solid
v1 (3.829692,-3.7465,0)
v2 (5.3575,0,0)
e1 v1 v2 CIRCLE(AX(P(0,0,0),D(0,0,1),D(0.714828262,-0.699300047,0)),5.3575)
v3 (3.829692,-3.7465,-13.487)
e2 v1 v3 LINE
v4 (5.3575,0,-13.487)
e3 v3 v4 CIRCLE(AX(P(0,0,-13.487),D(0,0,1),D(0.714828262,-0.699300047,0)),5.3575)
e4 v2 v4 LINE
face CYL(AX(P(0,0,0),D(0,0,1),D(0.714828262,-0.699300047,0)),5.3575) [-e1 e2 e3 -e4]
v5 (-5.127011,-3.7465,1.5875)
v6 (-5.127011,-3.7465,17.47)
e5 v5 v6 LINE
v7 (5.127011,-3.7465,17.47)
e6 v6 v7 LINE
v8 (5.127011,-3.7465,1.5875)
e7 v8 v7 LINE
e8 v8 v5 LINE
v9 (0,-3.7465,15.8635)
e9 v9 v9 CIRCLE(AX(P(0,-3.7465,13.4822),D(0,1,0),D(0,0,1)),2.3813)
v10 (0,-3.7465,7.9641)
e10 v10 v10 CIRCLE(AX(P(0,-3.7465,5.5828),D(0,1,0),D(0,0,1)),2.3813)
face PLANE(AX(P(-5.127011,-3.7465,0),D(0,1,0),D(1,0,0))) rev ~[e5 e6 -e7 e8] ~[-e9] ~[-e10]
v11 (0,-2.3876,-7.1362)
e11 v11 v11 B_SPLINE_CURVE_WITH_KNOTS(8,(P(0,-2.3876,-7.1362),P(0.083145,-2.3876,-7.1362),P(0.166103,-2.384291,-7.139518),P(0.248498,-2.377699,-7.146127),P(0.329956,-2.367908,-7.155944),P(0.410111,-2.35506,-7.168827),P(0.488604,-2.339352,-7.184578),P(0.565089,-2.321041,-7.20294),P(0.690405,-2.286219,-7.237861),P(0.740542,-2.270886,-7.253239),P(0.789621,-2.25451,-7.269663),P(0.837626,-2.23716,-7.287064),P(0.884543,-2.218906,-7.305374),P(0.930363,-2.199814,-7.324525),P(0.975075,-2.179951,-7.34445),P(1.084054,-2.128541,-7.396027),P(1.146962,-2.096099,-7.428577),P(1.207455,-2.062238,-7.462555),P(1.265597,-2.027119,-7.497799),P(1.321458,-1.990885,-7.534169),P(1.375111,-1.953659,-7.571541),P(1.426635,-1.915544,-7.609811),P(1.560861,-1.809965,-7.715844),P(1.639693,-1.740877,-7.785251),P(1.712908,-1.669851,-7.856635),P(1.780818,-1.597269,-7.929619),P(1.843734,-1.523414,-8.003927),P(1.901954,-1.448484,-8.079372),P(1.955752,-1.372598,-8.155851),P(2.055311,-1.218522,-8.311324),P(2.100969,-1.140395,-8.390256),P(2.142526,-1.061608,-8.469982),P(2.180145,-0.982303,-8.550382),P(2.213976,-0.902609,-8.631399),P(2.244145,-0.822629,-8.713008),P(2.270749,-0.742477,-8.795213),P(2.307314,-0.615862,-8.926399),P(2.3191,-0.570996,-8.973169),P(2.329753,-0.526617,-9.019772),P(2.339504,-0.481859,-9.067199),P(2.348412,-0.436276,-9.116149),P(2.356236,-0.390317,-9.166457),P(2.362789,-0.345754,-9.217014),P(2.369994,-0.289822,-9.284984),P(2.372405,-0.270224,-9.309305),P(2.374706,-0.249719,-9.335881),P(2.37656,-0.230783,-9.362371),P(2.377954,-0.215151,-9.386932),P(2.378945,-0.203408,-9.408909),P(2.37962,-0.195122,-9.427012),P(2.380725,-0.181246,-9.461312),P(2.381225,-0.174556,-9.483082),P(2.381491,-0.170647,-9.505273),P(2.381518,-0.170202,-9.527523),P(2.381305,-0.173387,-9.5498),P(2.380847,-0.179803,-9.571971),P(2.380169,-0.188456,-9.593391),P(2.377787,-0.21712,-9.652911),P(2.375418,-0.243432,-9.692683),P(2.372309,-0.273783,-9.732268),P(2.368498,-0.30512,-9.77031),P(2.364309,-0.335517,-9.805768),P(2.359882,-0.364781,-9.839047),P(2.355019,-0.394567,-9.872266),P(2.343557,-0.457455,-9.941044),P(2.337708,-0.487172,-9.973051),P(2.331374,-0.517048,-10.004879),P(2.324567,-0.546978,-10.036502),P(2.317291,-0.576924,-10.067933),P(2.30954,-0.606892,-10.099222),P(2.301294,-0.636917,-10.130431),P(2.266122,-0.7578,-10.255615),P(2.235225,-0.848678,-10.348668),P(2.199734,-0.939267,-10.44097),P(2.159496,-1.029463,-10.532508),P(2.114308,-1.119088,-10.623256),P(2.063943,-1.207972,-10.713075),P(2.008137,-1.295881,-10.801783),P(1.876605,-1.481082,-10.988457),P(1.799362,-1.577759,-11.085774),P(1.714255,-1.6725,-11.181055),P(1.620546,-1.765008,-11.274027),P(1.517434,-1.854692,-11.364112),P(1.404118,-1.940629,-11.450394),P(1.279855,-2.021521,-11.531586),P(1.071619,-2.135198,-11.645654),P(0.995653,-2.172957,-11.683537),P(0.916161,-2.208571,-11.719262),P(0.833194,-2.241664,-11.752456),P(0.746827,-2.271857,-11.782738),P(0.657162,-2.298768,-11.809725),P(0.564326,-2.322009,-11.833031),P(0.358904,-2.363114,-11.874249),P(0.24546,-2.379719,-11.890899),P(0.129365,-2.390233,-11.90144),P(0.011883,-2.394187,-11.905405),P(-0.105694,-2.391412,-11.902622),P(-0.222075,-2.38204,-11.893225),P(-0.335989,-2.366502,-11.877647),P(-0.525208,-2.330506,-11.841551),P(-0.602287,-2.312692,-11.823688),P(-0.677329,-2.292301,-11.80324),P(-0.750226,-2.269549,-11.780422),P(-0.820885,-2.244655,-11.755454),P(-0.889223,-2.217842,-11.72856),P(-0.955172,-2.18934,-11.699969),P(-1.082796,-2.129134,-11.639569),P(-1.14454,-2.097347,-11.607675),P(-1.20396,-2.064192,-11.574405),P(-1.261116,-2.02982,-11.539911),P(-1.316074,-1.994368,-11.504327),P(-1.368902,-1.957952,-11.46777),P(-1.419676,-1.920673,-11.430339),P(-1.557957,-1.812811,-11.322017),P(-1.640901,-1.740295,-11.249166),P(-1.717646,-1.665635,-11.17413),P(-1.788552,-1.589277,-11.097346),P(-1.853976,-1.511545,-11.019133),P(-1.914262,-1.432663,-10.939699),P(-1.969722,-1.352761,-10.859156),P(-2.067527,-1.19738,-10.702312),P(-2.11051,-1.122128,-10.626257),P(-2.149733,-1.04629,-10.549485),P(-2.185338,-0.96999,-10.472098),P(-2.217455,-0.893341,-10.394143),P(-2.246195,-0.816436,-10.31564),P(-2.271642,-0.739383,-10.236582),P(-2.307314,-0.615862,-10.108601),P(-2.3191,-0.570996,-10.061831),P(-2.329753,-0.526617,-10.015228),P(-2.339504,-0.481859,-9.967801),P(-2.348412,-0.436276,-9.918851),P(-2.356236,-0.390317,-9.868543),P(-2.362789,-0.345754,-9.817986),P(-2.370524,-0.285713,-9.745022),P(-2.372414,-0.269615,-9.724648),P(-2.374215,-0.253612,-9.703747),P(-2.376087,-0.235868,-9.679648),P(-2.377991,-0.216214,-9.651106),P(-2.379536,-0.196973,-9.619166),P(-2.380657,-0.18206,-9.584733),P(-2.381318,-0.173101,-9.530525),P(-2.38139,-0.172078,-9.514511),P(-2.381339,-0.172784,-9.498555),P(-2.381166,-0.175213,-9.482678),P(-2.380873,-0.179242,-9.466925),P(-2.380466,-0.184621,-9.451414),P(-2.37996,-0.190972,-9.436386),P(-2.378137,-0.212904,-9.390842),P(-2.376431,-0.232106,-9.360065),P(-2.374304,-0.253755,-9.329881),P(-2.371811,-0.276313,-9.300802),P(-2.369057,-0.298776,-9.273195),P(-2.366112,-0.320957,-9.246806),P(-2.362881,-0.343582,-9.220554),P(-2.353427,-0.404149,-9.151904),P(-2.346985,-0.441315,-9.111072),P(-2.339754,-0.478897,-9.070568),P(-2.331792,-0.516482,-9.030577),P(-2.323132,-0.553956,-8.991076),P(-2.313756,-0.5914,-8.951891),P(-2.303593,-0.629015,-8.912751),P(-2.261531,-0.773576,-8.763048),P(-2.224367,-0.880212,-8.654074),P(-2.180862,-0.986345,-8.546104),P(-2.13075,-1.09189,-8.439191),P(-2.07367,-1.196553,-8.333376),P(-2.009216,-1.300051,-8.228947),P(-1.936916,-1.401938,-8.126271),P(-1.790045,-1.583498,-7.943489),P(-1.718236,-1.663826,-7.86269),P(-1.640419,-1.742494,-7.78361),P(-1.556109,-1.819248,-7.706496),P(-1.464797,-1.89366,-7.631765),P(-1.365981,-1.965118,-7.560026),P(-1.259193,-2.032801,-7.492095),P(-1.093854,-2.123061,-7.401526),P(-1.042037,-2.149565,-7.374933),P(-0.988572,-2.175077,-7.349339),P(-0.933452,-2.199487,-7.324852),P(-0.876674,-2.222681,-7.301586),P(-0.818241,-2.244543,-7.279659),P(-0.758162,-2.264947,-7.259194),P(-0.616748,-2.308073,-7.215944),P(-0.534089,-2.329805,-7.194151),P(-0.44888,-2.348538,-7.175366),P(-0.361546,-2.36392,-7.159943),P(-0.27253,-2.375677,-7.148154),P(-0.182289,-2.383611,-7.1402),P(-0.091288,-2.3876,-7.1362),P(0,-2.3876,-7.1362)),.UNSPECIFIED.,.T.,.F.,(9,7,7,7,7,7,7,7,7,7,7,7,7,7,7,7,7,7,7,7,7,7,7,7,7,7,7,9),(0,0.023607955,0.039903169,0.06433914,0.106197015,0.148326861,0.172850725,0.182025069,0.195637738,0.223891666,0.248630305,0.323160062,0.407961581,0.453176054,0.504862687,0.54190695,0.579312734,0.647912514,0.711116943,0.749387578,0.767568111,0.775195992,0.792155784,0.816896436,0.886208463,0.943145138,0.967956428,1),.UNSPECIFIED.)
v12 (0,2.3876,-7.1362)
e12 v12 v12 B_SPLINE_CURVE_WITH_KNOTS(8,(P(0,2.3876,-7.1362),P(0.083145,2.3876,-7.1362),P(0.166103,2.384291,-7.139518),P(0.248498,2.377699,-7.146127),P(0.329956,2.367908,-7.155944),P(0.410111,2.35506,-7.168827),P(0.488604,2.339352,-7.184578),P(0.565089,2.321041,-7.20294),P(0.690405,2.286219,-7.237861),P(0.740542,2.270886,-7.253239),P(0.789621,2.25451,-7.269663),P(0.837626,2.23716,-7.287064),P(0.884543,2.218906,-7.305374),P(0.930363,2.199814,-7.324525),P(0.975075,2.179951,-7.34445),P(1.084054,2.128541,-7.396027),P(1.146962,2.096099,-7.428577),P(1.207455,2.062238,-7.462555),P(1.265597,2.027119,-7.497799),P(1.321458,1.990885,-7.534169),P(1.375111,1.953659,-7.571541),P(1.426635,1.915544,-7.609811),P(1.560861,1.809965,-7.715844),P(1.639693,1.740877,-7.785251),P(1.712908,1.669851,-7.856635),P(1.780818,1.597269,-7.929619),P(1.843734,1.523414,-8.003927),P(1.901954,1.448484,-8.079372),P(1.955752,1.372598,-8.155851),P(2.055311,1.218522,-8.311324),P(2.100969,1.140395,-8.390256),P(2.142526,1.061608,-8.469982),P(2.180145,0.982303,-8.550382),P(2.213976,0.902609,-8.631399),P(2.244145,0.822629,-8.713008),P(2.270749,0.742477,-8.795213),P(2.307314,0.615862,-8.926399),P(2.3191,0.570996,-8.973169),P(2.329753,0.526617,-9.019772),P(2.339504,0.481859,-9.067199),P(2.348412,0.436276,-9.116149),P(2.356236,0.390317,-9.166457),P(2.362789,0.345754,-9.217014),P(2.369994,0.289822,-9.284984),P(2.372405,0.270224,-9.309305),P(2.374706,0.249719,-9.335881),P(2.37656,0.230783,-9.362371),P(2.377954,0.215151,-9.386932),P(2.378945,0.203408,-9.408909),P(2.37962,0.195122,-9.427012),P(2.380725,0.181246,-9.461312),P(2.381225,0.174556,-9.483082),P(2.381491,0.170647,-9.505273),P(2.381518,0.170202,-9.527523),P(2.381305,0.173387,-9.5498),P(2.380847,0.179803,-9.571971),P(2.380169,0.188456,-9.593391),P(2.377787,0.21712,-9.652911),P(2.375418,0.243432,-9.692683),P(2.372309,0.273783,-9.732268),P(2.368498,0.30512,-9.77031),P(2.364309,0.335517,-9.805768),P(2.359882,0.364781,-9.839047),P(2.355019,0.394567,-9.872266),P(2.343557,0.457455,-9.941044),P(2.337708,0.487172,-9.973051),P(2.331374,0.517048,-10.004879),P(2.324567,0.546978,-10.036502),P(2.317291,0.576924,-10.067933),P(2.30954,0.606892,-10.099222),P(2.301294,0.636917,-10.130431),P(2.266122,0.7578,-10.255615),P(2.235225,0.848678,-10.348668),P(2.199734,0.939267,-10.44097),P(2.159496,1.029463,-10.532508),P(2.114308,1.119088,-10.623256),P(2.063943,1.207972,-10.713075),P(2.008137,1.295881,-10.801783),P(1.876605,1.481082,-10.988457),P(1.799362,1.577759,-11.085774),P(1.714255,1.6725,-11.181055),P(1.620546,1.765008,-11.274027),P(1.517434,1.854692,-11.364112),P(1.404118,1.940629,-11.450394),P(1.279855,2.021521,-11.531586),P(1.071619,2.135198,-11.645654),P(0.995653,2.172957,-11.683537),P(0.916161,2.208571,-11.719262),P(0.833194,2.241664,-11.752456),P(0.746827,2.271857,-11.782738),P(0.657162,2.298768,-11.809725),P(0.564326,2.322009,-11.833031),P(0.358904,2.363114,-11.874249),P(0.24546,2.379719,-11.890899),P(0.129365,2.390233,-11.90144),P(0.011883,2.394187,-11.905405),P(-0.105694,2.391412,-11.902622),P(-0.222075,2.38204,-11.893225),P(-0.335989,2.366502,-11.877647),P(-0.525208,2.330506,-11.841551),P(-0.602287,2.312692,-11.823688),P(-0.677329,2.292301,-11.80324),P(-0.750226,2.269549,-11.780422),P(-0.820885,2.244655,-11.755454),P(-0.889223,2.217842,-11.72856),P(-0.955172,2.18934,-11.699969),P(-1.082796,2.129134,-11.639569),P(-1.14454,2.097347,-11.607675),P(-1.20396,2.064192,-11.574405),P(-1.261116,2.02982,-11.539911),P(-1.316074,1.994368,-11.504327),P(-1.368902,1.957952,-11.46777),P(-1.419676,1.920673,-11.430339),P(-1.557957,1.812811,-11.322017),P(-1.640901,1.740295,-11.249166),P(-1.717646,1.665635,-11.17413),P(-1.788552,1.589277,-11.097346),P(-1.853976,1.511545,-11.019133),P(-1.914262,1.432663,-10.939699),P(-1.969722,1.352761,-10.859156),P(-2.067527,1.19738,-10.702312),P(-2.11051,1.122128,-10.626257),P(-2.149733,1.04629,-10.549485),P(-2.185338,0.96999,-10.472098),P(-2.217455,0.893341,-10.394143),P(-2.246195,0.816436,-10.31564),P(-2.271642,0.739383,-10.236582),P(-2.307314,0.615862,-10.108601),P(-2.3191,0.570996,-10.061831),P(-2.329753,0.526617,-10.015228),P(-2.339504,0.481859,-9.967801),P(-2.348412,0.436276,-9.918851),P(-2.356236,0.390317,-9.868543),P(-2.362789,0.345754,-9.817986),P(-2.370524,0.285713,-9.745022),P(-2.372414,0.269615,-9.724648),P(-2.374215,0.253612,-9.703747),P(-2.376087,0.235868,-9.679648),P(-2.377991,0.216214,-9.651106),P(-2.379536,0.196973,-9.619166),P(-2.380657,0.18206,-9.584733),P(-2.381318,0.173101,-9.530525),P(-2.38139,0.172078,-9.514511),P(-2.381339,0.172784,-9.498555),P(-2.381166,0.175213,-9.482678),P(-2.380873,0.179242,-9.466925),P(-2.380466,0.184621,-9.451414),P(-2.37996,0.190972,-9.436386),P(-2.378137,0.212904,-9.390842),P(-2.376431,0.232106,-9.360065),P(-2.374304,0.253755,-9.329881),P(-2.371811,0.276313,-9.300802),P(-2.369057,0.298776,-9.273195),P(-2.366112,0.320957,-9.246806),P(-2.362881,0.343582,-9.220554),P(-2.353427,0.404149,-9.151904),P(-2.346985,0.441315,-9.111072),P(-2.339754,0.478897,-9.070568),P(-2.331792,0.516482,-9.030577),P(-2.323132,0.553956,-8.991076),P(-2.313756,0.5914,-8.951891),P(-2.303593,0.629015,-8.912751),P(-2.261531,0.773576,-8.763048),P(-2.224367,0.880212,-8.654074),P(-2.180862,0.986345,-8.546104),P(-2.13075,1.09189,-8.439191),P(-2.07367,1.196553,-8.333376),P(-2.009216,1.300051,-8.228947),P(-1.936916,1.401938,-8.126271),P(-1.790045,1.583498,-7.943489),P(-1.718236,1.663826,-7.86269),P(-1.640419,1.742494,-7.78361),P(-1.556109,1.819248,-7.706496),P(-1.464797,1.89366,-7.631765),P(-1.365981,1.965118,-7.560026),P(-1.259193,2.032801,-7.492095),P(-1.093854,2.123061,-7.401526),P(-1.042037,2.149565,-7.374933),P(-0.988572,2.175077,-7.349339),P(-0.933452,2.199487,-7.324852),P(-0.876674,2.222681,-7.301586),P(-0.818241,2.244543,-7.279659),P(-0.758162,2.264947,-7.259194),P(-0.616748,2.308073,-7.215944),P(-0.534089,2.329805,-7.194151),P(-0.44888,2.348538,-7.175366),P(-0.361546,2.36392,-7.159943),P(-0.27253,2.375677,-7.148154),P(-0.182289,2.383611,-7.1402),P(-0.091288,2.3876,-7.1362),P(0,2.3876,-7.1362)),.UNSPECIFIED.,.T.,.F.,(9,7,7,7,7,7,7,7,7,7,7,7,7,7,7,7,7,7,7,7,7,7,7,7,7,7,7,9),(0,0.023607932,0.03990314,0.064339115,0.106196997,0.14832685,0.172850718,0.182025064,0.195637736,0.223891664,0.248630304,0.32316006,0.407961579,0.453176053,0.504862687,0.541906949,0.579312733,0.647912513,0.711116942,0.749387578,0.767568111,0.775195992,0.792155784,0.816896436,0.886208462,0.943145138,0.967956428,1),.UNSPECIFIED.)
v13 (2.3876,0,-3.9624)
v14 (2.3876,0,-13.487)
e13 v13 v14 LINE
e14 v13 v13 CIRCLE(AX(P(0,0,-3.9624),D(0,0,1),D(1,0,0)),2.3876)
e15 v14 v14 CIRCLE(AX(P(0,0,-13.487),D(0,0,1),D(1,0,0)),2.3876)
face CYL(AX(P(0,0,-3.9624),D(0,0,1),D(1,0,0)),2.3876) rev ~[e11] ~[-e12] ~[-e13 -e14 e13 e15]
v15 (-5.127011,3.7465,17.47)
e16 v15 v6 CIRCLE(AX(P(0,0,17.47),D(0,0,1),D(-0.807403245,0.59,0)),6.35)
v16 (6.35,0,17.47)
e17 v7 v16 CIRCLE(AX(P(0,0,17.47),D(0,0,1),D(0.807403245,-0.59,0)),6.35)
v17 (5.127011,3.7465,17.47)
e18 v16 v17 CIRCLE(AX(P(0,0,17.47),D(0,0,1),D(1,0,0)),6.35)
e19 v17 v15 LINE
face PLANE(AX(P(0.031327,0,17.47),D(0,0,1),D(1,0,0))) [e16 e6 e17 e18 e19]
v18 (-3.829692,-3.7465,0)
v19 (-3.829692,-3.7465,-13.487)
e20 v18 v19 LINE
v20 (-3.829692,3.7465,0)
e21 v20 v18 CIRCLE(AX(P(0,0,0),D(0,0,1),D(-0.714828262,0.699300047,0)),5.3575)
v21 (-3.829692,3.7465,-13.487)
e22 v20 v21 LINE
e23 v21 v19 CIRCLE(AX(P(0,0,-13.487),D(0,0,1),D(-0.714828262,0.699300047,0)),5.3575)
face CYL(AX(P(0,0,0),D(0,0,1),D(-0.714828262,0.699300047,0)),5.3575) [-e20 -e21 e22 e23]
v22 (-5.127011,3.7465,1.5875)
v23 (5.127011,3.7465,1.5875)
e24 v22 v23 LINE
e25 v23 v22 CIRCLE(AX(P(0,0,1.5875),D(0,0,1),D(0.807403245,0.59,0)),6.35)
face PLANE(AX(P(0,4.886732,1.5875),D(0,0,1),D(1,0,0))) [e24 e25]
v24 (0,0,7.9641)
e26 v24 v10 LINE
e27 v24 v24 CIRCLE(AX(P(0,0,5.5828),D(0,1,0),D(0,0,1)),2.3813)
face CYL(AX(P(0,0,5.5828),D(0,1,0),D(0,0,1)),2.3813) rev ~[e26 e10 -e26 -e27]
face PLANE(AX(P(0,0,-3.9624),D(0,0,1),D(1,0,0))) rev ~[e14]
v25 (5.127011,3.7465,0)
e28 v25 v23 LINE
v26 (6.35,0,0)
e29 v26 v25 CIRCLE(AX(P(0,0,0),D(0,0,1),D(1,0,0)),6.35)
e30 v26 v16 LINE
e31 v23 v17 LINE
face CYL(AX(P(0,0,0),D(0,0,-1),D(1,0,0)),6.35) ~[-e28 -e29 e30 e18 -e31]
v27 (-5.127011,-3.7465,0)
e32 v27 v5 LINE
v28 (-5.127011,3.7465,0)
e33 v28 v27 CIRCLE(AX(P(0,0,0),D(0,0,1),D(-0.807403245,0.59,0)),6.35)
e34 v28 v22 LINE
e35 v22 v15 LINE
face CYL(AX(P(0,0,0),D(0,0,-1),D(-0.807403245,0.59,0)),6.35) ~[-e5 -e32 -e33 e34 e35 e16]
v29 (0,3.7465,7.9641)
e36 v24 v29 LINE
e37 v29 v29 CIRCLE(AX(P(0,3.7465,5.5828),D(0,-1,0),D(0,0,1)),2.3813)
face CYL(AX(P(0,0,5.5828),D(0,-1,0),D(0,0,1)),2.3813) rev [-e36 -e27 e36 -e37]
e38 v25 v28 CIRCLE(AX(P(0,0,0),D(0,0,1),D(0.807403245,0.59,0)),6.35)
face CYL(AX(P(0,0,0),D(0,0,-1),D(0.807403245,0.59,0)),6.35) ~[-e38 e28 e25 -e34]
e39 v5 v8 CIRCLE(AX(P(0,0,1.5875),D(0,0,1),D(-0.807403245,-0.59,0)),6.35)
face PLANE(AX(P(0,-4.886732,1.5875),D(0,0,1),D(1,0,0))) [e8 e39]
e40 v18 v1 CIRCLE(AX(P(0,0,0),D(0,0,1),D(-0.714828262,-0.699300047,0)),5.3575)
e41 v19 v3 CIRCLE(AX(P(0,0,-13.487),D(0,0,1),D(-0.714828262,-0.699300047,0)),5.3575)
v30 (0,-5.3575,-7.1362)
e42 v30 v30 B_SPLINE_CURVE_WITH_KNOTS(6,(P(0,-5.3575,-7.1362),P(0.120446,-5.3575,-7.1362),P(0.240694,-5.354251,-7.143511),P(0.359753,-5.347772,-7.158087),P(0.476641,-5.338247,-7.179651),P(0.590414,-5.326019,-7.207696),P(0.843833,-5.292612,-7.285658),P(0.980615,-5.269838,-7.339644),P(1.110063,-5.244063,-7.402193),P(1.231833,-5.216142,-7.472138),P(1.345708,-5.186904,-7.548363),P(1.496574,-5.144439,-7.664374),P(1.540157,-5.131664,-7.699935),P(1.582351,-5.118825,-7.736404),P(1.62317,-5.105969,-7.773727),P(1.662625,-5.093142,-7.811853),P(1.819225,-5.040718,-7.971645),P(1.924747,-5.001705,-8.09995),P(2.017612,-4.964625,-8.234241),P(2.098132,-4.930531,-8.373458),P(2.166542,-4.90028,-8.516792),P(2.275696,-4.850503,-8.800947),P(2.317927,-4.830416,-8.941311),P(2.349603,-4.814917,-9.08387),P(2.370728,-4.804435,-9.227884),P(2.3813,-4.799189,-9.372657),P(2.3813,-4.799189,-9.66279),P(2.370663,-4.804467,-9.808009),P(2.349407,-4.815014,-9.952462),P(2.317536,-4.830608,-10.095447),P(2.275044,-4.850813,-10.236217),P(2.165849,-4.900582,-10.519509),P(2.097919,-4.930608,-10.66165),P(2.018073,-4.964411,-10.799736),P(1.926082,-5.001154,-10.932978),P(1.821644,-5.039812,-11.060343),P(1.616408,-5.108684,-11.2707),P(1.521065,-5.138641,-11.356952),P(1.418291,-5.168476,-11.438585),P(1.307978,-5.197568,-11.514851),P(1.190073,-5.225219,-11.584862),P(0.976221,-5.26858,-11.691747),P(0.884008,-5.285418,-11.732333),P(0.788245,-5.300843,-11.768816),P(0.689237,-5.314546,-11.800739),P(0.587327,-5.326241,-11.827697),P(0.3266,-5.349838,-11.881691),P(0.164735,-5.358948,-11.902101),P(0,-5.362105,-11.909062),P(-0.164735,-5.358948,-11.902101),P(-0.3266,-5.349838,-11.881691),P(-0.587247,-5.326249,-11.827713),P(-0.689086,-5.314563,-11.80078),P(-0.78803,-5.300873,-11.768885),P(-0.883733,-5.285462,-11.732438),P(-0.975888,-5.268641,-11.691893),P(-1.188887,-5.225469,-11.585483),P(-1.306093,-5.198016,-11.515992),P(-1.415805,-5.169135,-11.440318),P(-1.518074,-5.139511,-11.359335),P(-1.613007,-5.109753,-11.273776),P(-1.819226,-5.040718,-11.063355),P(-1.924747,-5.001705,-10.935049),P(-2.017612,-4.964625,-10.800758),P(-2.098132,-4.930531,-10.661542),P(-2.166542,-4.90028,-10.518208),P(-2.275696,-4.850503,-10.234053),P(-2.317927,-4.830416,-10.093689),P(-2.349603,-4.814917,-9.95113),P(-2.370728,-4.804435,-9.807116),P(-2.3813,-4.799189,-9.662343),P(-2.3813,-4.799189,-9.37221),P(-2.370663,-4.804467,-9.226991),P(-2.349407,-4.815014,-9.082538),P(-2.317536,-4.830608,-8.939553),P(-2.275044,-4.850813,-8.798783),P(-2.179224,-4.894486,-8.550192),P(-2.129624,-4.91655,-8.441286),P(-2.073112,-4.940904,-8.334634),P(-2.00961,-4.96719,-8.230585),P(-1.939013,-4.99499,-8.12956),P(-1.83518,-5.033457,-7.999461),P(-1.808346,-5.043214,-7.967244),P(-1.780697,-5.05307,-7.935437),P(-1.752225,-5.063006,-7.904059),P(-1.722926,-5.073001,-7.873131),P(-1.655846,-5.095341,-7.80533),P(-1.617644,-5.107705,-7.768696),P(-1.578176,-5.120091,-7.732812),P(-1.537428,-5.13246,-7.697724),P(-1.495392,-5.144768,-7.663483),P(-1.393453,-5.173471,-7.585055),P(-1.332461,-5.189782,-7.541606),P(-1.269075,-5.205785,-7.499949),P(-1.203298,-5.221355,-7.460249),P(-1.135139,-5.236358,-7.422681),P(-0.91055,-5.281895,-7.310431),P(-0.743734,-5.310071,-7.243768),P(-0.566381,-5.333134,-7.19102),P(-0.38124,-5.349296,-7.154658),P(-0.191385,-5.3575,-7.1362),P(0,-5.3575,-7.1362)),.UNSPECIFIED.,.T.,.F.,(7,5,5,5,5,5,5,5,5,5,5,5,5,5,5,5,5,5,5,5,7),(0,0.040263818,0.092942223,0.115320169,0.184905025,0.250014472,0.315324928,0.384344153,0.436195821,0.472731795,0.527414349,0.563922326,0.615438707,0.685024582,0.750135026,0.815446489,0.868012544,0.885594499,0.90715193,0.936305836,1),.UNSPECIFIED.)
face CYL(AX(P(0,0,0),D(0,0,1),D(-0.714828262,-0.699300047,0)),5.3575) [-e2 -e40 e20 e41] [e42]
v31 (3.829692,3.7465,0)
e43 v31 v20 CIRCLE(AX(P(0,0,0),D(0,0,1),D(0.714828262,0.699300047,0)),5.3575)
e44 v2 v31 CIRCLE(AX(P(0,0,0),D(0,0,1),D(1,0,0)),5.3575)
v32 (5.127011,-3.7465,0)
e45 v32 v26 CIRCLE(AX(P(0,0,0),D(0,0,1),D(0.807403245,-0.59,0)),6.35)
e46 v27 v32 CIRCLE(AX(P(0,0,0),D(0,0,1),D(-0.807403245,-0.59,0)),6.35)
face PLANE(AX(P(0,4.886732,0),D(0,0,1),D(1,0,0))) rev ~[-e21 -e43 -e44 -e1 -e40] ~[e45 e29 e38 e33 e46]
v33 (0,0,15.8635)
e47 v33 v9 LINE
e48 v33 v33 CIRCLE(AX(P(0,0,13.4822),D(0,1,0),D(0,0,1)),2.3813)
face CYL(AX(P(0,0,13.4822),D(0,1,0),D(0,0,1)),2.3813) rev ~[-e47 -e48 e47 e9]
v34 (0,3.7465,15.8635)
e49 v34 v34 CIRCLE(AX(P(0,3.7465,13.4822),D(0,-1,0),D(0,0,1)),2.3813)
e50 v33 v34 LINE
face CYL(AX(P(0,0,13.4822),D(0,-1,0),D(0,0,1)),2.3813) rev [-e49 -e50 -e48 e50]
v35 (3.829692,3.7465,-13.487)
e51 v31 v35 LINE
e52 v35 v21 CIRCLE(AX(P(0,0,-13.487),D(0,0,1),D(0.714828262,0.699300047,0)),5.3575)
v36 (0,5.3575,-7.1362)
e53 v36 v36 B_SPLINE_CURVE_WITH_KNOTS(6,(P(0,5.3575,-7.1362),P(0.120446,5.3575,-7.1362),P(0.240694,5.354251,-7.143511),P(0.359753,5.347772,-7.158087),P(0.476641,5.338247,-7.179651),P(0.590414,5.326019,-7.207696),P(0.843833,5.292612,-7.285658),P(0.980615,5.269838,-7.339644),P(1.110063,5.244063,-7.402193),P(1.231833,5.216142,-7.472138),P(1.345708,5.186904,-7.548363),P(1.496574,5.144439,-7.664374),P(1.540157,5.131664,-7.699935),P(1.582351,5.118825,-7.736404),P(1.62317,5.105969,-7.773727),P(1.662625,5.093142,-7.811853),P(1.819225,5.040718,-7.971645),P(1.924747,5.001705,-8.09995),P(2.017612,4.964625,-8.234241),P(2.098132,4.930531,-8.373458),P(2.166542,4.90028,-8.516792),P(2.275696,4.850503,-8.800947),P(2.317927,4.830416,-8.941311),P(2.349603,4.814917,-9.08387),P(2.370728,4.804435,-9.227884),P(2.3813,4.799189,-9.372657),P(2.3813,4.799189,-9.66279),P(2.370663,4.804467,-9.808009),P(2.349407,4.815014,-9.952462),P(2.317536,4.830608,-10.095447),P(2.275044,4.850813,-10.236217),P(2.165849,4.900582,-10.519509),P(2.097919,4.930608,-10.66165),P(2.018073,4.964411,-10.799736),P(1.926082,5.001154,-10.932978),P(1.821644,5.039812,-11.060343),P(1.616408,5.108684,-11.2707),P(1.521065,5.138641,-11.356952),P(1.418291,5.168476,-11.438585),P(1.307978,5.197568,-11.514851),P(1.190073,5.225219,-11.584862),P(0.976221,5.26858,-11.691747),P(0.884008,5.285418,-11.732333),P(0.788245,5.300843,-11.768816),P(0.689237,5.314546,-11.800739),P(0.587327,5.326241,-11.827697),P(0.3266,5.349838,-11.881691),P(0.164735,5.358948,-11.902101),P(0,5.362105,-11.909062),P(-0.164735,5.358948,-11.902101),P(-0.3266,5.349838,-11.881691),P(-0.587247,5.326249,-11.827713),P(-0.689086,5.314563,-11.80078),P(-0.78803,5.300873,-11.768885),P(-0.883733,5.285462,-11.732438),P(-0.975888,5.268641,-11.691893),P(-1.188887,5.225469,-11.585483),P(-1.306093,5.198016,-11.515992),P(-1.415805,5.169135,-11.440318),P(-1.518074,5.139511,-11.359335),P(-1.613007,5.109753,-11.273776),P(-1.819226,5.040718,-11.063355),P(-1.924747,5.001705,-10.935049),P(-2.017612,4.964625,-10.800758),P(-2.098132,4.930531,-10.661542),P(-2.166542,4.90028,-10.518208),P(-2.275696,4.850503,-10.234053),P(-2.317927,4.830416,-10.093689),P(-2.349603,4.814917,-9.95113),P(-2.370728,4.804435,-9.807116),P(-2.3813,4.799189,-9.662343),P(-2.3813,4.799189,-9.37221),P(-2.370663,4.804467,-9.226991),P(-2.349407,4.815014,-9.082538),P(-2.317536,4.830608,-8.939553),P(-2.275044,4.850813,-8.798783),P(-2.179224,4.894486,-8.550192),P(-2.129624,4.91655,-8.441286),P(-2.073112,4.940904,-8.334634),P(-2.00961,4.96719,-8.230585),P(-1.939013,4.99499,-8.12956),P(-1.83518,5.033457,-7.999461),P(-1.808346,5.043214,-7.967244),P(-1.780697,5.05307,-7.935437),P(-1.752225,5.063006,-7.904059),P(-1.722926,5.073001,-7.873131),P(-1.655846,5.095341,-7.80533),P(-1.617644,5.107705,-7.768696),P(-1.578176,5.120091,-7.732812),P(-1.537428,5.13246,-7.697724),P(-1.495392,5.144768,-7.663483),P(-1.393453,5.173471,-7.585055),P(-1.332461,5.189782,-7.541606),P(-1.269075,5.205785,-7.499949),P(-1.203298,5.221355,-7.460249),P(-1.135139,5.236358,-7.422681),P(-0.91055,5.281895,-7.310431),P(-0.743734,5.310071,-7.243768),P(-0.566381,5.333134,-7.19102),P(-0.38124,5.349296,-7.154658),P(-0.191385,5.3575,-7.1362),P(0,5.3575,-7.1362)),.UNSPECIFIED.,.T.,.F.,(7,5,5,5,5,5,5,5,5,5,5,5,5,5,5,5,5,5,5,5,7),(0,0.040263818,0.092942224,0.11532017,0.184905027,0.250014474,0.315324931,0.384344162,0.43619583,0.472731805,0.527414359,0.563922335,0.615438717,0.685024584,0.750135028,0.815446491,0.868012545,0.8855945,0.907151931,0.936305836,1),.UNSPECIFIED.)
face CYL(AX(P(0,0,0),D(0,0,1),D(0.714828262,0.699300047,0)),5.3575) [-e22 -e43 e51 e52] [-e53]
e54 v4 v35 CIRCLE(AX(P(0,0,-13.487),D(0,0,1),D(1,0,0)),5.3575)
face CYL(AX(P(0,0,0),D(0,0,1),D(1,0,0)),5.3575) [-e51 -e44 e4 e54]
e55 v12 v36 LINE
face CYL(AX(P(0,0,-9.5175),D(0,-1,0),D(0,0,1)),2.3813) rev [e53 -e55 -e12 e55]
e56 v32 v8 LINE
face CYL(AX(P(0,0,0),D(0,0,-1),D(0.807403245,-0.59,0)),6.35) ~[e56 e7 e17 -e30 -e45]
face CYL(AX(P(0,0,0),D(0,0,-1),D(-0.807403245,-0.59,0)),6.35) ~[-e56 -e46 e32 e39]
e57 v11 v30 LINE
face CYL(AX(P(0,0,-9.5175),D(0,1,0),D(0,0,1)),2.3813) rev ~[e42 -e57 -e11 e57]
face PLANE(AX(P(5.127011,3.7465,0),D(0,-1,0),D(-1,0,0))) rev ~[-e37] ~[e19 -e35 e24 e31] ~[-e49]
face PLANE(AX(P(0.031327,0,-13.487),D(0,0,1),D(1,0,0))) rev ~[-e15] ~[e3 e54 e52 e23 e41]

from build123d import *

# Parameters (mm, degrees)
SKETCH1_R               = 2.3876
EXTRUDE1_DEPTH          = 17.47
EXTRUDE2_DEPTH          = 1.5875
SKETCH1_4_R             = 2.3876
EXTRUDE3_DEPTH          = 13.487
CUT_EXTRUDE1_START      = -3.9624
SKETCH1_5_R             = 2.3876
CUT_EXTRUDE1_DEPTH      = 13.487
SKETCH2_R               = 2.3813
CUT_EXTRUDE2_DEPTH      = 13.487
CUT_EXTRUDE2_DEPTH_BACK = 13.487


with BuildPart() as part:
    # Sketch1 → Extrude1 (new body)
    with BuildSketch(Plane.XY):
        with BuildLine():
            Line((3.829692416, 3.7465), (-3.829692416, 3.7465))
            ThreePointArc((-3.829692416, 3.7465), (-5.3575, 0), (-3.829692416, -3.7465))
            Line((-3.829692416, -3.7465), (3.829692416, -3.7465))
            ThreePointArc((3.829692416, -3.7465), (4.960866022, -2.023021148), (5.3575, 0))
            ThreePointArc((5.3575, 0), (4.960866022, 2.023021148), (3.829692416, 3.7465))
        make_face()
        Circle(SKETCH1_R, mode=Mode.SUBTRACT)
        with BuildLine():
            Line((-3.829692416, 3.7465), (-5.127010606, 3.7465))
            ThreePointArc((-5.127010606, 3.7465), (-6.35, 0), (-5.127010606, -3.7465))
            Line((-5.127010606, -3.7465), (-3.829692416, -3.7465))
            ThreePointArc((-3.829692416, -3.7465), (-5.3575, 0), (-3.829692416, 3.7465))
        make_face()
        with BuildLine():
            ThreePointArc((6.35, 0), (6.036514613, 1.970530722), (5.127010606, 3.7465))
            Line((5.127010606, 3.7465), (3.829692416, 3.7465))
            ThreePointArc((3.829692416, 3.7465), (4.960866022, 2.023021148), (5.3575, 0))
            ThreePointArc((5.3575, 0), (4.960866022, -2.023021148), (3.829692416, -3.7465))
            Line((3.829692416, -3.7465), (5.127010606, -3.7465))
            ThreePointArc((5.127010606, -3.7465), (6.036514613, -1.970530722), (6.35, 0))
        make_face()
        with BuildLine():
            Line((-3.829692416, 3.7465), (-5.127010606, 3.7465))
            ThreePointArc((-5.127010606, 3.7465), (-6.35, 0), (-5.127010606, -3.7465))
            Line((-5.127010606, -3.7465), (-3.829692416, -3.7465))
            ThreePointArc((-3.829692416, -3.7465), (-5.3575, 0), (-3.829692416, 3.7465))
        make_face()
        with BuildLine():
            ThreePointArc((6.35, 0), (6.036514613, 1.970530722), (5.127010606, 3.7465))
            Line((5.127010606, 3.7465), (3.829692416, 3.7465))
            ThreePointArc((3.829692416, 3.7465), (4.960866022, 2.023021148), (5.3575, 0))
            ThreePointArc((5.3575, 0), (4.960866022, -2.023021148), (3.829692416, -3.7465))
            Line((3.829692416, -3.7465), (5.127010606, -3.7465))
            ThreePointArc((5.127010606, -3.7465), (6.036514613, -1.970530722), (6.35, 0))
        make_face()
        Circle(SKETCH1_R)
    extrude(amount=EXTRUDE1_DEPTH)

    # Sketch1_3 → Extrude2 (add)
    with BuildSketch(Plane.XY):
        with BuildLine():
            ThreePointArc((5.127010606, 3.7465), (0, 6.35), (-5.127010606, 3.7465))
            Line((-5.127010606, 3.7465), (-3.829692416, 3.7465))
            ThreePointArc((-3.829692416, 3.7465), (0, 5.3575), (3.829692416, 3.7465))
            Line((3.829692416, 3.7465), (5.127010606, 3.7465))
        make_face()
        with BuildLine():
            ThreePointArc((3.829692416, 3.7465), (0, 5.3575), (-3.829692416, 3.7465))
            Line((-3.829692416, 3.7465), (3.829692416, 3.7465))
        make_face()
        with BuildLine():
            Line((-3.829692416, -3.7465), (-5.127010606, -3.7465))
            ThreePointArc((-5.127010606, -3.7465), (0, -6.35), (5.127010606, -3.7465))
            Line((5.127010606, -3.7465), (3.829692416, -3.7465))
            ThreePointArc((3.829692416, -3.7465), (0, -5.3575), (-3.829692416, -3.7465))
        make_face()
        with BuildLine():
            Line((3.829692416, -3.7465), (-3.829692416, -3.7465))
            ThreePointArc((-3.829692416, -3.7465), (0, -5.3575), (3.829692416, -3.7465))
        make_face()
    extrude(amount=EXTRUDE2_DEPTH)

    # Sketch1_4 → Extrude3 (add)
    with BuildSketch(Plane.XY):
        with BuildLine():
            Line((3.829692416, 3.7465), (-3.829692416, 3.7465))
            ThreePointArc((-3.829692416, 3.7465), (-5.3575, 0), (-3.829692416, -3.7465))
            Line((-3.829692416, -3.7465), (3.829692416, -3.7465))
            ThreePointArc((3.829692416, -3.7465), (4.960866022, -2.023021148), (5.3575, 0))
            ThreePointArc((5.3575, 0), (4.960866022, 2.023021148), (3.829692416, 3.7465))
        make_face()
        Circle(SKETCH1_4_R, mode=Mode.SUBTRACT)
        Circle(SKETCH1_4_R)
        with BuildLine():
            Line((3.829692416, -3.7465), (-3.829692416, -3.7465))
            ThreePointArc((-3.829692416, -3.7465), (0, -5.3575), (3.829692416, -3.7465))
        make_face()
        with BuildLine():
            ThreePointArc((3.829692416, 3.7465), (0, 5.3575), (-3.829692416, 3.7465))
            Line((-3.829692416, 3.7465), (3.829692416, 3.7465))
        make_face()
    extrude(amount=-EXTRUDE3_DEPTH)

    # Sketch1_5 → Cut-Extrude1 (cut)
    with BuildSketch(Plane.XY.offset(CUT_EXTRUDE1_START)):
        Circle(SKETCH1_5_R)
    extrude(amount=-CUT_EXTRUDE1_DEPTH, mode=Mode.SUBTRACT)

    # Sketch2 → Cut-Extrude2 (cut, two sides)
    with BuildSketch(Plane(origin=(0, 0, 0), x_dir=(1, 0, 0), z_dir=(0, 1, 0))) as cut_extrude2_sk:
        with Locations(Location((0, -5.5828, 0), (0, 0, 270))):  # turned: the seam where the file's is
            Circle(SKETCH2_R)
        with Locations(Location((0, -13.4822, 0), (0, 0, 270))):  # turned: the seam where the file's is
            Circle(SKETCH2_R)
        with Locations(Location((0, 9.5175, 0), (0, 0, 270))):  # turned: the seam where the file's is
            Circle(SKETCH2_R)
    extrude(amount=CUT_EXTRUDE2_DEPTH, mode=Mode.SUBTRACT)
    extrude(cut_extrude2_sk.sketch, amount=-CUT_EXTRUDE2_DEPTH_BACK, mode=Mode.SUBTRACT)


solid = part.part
